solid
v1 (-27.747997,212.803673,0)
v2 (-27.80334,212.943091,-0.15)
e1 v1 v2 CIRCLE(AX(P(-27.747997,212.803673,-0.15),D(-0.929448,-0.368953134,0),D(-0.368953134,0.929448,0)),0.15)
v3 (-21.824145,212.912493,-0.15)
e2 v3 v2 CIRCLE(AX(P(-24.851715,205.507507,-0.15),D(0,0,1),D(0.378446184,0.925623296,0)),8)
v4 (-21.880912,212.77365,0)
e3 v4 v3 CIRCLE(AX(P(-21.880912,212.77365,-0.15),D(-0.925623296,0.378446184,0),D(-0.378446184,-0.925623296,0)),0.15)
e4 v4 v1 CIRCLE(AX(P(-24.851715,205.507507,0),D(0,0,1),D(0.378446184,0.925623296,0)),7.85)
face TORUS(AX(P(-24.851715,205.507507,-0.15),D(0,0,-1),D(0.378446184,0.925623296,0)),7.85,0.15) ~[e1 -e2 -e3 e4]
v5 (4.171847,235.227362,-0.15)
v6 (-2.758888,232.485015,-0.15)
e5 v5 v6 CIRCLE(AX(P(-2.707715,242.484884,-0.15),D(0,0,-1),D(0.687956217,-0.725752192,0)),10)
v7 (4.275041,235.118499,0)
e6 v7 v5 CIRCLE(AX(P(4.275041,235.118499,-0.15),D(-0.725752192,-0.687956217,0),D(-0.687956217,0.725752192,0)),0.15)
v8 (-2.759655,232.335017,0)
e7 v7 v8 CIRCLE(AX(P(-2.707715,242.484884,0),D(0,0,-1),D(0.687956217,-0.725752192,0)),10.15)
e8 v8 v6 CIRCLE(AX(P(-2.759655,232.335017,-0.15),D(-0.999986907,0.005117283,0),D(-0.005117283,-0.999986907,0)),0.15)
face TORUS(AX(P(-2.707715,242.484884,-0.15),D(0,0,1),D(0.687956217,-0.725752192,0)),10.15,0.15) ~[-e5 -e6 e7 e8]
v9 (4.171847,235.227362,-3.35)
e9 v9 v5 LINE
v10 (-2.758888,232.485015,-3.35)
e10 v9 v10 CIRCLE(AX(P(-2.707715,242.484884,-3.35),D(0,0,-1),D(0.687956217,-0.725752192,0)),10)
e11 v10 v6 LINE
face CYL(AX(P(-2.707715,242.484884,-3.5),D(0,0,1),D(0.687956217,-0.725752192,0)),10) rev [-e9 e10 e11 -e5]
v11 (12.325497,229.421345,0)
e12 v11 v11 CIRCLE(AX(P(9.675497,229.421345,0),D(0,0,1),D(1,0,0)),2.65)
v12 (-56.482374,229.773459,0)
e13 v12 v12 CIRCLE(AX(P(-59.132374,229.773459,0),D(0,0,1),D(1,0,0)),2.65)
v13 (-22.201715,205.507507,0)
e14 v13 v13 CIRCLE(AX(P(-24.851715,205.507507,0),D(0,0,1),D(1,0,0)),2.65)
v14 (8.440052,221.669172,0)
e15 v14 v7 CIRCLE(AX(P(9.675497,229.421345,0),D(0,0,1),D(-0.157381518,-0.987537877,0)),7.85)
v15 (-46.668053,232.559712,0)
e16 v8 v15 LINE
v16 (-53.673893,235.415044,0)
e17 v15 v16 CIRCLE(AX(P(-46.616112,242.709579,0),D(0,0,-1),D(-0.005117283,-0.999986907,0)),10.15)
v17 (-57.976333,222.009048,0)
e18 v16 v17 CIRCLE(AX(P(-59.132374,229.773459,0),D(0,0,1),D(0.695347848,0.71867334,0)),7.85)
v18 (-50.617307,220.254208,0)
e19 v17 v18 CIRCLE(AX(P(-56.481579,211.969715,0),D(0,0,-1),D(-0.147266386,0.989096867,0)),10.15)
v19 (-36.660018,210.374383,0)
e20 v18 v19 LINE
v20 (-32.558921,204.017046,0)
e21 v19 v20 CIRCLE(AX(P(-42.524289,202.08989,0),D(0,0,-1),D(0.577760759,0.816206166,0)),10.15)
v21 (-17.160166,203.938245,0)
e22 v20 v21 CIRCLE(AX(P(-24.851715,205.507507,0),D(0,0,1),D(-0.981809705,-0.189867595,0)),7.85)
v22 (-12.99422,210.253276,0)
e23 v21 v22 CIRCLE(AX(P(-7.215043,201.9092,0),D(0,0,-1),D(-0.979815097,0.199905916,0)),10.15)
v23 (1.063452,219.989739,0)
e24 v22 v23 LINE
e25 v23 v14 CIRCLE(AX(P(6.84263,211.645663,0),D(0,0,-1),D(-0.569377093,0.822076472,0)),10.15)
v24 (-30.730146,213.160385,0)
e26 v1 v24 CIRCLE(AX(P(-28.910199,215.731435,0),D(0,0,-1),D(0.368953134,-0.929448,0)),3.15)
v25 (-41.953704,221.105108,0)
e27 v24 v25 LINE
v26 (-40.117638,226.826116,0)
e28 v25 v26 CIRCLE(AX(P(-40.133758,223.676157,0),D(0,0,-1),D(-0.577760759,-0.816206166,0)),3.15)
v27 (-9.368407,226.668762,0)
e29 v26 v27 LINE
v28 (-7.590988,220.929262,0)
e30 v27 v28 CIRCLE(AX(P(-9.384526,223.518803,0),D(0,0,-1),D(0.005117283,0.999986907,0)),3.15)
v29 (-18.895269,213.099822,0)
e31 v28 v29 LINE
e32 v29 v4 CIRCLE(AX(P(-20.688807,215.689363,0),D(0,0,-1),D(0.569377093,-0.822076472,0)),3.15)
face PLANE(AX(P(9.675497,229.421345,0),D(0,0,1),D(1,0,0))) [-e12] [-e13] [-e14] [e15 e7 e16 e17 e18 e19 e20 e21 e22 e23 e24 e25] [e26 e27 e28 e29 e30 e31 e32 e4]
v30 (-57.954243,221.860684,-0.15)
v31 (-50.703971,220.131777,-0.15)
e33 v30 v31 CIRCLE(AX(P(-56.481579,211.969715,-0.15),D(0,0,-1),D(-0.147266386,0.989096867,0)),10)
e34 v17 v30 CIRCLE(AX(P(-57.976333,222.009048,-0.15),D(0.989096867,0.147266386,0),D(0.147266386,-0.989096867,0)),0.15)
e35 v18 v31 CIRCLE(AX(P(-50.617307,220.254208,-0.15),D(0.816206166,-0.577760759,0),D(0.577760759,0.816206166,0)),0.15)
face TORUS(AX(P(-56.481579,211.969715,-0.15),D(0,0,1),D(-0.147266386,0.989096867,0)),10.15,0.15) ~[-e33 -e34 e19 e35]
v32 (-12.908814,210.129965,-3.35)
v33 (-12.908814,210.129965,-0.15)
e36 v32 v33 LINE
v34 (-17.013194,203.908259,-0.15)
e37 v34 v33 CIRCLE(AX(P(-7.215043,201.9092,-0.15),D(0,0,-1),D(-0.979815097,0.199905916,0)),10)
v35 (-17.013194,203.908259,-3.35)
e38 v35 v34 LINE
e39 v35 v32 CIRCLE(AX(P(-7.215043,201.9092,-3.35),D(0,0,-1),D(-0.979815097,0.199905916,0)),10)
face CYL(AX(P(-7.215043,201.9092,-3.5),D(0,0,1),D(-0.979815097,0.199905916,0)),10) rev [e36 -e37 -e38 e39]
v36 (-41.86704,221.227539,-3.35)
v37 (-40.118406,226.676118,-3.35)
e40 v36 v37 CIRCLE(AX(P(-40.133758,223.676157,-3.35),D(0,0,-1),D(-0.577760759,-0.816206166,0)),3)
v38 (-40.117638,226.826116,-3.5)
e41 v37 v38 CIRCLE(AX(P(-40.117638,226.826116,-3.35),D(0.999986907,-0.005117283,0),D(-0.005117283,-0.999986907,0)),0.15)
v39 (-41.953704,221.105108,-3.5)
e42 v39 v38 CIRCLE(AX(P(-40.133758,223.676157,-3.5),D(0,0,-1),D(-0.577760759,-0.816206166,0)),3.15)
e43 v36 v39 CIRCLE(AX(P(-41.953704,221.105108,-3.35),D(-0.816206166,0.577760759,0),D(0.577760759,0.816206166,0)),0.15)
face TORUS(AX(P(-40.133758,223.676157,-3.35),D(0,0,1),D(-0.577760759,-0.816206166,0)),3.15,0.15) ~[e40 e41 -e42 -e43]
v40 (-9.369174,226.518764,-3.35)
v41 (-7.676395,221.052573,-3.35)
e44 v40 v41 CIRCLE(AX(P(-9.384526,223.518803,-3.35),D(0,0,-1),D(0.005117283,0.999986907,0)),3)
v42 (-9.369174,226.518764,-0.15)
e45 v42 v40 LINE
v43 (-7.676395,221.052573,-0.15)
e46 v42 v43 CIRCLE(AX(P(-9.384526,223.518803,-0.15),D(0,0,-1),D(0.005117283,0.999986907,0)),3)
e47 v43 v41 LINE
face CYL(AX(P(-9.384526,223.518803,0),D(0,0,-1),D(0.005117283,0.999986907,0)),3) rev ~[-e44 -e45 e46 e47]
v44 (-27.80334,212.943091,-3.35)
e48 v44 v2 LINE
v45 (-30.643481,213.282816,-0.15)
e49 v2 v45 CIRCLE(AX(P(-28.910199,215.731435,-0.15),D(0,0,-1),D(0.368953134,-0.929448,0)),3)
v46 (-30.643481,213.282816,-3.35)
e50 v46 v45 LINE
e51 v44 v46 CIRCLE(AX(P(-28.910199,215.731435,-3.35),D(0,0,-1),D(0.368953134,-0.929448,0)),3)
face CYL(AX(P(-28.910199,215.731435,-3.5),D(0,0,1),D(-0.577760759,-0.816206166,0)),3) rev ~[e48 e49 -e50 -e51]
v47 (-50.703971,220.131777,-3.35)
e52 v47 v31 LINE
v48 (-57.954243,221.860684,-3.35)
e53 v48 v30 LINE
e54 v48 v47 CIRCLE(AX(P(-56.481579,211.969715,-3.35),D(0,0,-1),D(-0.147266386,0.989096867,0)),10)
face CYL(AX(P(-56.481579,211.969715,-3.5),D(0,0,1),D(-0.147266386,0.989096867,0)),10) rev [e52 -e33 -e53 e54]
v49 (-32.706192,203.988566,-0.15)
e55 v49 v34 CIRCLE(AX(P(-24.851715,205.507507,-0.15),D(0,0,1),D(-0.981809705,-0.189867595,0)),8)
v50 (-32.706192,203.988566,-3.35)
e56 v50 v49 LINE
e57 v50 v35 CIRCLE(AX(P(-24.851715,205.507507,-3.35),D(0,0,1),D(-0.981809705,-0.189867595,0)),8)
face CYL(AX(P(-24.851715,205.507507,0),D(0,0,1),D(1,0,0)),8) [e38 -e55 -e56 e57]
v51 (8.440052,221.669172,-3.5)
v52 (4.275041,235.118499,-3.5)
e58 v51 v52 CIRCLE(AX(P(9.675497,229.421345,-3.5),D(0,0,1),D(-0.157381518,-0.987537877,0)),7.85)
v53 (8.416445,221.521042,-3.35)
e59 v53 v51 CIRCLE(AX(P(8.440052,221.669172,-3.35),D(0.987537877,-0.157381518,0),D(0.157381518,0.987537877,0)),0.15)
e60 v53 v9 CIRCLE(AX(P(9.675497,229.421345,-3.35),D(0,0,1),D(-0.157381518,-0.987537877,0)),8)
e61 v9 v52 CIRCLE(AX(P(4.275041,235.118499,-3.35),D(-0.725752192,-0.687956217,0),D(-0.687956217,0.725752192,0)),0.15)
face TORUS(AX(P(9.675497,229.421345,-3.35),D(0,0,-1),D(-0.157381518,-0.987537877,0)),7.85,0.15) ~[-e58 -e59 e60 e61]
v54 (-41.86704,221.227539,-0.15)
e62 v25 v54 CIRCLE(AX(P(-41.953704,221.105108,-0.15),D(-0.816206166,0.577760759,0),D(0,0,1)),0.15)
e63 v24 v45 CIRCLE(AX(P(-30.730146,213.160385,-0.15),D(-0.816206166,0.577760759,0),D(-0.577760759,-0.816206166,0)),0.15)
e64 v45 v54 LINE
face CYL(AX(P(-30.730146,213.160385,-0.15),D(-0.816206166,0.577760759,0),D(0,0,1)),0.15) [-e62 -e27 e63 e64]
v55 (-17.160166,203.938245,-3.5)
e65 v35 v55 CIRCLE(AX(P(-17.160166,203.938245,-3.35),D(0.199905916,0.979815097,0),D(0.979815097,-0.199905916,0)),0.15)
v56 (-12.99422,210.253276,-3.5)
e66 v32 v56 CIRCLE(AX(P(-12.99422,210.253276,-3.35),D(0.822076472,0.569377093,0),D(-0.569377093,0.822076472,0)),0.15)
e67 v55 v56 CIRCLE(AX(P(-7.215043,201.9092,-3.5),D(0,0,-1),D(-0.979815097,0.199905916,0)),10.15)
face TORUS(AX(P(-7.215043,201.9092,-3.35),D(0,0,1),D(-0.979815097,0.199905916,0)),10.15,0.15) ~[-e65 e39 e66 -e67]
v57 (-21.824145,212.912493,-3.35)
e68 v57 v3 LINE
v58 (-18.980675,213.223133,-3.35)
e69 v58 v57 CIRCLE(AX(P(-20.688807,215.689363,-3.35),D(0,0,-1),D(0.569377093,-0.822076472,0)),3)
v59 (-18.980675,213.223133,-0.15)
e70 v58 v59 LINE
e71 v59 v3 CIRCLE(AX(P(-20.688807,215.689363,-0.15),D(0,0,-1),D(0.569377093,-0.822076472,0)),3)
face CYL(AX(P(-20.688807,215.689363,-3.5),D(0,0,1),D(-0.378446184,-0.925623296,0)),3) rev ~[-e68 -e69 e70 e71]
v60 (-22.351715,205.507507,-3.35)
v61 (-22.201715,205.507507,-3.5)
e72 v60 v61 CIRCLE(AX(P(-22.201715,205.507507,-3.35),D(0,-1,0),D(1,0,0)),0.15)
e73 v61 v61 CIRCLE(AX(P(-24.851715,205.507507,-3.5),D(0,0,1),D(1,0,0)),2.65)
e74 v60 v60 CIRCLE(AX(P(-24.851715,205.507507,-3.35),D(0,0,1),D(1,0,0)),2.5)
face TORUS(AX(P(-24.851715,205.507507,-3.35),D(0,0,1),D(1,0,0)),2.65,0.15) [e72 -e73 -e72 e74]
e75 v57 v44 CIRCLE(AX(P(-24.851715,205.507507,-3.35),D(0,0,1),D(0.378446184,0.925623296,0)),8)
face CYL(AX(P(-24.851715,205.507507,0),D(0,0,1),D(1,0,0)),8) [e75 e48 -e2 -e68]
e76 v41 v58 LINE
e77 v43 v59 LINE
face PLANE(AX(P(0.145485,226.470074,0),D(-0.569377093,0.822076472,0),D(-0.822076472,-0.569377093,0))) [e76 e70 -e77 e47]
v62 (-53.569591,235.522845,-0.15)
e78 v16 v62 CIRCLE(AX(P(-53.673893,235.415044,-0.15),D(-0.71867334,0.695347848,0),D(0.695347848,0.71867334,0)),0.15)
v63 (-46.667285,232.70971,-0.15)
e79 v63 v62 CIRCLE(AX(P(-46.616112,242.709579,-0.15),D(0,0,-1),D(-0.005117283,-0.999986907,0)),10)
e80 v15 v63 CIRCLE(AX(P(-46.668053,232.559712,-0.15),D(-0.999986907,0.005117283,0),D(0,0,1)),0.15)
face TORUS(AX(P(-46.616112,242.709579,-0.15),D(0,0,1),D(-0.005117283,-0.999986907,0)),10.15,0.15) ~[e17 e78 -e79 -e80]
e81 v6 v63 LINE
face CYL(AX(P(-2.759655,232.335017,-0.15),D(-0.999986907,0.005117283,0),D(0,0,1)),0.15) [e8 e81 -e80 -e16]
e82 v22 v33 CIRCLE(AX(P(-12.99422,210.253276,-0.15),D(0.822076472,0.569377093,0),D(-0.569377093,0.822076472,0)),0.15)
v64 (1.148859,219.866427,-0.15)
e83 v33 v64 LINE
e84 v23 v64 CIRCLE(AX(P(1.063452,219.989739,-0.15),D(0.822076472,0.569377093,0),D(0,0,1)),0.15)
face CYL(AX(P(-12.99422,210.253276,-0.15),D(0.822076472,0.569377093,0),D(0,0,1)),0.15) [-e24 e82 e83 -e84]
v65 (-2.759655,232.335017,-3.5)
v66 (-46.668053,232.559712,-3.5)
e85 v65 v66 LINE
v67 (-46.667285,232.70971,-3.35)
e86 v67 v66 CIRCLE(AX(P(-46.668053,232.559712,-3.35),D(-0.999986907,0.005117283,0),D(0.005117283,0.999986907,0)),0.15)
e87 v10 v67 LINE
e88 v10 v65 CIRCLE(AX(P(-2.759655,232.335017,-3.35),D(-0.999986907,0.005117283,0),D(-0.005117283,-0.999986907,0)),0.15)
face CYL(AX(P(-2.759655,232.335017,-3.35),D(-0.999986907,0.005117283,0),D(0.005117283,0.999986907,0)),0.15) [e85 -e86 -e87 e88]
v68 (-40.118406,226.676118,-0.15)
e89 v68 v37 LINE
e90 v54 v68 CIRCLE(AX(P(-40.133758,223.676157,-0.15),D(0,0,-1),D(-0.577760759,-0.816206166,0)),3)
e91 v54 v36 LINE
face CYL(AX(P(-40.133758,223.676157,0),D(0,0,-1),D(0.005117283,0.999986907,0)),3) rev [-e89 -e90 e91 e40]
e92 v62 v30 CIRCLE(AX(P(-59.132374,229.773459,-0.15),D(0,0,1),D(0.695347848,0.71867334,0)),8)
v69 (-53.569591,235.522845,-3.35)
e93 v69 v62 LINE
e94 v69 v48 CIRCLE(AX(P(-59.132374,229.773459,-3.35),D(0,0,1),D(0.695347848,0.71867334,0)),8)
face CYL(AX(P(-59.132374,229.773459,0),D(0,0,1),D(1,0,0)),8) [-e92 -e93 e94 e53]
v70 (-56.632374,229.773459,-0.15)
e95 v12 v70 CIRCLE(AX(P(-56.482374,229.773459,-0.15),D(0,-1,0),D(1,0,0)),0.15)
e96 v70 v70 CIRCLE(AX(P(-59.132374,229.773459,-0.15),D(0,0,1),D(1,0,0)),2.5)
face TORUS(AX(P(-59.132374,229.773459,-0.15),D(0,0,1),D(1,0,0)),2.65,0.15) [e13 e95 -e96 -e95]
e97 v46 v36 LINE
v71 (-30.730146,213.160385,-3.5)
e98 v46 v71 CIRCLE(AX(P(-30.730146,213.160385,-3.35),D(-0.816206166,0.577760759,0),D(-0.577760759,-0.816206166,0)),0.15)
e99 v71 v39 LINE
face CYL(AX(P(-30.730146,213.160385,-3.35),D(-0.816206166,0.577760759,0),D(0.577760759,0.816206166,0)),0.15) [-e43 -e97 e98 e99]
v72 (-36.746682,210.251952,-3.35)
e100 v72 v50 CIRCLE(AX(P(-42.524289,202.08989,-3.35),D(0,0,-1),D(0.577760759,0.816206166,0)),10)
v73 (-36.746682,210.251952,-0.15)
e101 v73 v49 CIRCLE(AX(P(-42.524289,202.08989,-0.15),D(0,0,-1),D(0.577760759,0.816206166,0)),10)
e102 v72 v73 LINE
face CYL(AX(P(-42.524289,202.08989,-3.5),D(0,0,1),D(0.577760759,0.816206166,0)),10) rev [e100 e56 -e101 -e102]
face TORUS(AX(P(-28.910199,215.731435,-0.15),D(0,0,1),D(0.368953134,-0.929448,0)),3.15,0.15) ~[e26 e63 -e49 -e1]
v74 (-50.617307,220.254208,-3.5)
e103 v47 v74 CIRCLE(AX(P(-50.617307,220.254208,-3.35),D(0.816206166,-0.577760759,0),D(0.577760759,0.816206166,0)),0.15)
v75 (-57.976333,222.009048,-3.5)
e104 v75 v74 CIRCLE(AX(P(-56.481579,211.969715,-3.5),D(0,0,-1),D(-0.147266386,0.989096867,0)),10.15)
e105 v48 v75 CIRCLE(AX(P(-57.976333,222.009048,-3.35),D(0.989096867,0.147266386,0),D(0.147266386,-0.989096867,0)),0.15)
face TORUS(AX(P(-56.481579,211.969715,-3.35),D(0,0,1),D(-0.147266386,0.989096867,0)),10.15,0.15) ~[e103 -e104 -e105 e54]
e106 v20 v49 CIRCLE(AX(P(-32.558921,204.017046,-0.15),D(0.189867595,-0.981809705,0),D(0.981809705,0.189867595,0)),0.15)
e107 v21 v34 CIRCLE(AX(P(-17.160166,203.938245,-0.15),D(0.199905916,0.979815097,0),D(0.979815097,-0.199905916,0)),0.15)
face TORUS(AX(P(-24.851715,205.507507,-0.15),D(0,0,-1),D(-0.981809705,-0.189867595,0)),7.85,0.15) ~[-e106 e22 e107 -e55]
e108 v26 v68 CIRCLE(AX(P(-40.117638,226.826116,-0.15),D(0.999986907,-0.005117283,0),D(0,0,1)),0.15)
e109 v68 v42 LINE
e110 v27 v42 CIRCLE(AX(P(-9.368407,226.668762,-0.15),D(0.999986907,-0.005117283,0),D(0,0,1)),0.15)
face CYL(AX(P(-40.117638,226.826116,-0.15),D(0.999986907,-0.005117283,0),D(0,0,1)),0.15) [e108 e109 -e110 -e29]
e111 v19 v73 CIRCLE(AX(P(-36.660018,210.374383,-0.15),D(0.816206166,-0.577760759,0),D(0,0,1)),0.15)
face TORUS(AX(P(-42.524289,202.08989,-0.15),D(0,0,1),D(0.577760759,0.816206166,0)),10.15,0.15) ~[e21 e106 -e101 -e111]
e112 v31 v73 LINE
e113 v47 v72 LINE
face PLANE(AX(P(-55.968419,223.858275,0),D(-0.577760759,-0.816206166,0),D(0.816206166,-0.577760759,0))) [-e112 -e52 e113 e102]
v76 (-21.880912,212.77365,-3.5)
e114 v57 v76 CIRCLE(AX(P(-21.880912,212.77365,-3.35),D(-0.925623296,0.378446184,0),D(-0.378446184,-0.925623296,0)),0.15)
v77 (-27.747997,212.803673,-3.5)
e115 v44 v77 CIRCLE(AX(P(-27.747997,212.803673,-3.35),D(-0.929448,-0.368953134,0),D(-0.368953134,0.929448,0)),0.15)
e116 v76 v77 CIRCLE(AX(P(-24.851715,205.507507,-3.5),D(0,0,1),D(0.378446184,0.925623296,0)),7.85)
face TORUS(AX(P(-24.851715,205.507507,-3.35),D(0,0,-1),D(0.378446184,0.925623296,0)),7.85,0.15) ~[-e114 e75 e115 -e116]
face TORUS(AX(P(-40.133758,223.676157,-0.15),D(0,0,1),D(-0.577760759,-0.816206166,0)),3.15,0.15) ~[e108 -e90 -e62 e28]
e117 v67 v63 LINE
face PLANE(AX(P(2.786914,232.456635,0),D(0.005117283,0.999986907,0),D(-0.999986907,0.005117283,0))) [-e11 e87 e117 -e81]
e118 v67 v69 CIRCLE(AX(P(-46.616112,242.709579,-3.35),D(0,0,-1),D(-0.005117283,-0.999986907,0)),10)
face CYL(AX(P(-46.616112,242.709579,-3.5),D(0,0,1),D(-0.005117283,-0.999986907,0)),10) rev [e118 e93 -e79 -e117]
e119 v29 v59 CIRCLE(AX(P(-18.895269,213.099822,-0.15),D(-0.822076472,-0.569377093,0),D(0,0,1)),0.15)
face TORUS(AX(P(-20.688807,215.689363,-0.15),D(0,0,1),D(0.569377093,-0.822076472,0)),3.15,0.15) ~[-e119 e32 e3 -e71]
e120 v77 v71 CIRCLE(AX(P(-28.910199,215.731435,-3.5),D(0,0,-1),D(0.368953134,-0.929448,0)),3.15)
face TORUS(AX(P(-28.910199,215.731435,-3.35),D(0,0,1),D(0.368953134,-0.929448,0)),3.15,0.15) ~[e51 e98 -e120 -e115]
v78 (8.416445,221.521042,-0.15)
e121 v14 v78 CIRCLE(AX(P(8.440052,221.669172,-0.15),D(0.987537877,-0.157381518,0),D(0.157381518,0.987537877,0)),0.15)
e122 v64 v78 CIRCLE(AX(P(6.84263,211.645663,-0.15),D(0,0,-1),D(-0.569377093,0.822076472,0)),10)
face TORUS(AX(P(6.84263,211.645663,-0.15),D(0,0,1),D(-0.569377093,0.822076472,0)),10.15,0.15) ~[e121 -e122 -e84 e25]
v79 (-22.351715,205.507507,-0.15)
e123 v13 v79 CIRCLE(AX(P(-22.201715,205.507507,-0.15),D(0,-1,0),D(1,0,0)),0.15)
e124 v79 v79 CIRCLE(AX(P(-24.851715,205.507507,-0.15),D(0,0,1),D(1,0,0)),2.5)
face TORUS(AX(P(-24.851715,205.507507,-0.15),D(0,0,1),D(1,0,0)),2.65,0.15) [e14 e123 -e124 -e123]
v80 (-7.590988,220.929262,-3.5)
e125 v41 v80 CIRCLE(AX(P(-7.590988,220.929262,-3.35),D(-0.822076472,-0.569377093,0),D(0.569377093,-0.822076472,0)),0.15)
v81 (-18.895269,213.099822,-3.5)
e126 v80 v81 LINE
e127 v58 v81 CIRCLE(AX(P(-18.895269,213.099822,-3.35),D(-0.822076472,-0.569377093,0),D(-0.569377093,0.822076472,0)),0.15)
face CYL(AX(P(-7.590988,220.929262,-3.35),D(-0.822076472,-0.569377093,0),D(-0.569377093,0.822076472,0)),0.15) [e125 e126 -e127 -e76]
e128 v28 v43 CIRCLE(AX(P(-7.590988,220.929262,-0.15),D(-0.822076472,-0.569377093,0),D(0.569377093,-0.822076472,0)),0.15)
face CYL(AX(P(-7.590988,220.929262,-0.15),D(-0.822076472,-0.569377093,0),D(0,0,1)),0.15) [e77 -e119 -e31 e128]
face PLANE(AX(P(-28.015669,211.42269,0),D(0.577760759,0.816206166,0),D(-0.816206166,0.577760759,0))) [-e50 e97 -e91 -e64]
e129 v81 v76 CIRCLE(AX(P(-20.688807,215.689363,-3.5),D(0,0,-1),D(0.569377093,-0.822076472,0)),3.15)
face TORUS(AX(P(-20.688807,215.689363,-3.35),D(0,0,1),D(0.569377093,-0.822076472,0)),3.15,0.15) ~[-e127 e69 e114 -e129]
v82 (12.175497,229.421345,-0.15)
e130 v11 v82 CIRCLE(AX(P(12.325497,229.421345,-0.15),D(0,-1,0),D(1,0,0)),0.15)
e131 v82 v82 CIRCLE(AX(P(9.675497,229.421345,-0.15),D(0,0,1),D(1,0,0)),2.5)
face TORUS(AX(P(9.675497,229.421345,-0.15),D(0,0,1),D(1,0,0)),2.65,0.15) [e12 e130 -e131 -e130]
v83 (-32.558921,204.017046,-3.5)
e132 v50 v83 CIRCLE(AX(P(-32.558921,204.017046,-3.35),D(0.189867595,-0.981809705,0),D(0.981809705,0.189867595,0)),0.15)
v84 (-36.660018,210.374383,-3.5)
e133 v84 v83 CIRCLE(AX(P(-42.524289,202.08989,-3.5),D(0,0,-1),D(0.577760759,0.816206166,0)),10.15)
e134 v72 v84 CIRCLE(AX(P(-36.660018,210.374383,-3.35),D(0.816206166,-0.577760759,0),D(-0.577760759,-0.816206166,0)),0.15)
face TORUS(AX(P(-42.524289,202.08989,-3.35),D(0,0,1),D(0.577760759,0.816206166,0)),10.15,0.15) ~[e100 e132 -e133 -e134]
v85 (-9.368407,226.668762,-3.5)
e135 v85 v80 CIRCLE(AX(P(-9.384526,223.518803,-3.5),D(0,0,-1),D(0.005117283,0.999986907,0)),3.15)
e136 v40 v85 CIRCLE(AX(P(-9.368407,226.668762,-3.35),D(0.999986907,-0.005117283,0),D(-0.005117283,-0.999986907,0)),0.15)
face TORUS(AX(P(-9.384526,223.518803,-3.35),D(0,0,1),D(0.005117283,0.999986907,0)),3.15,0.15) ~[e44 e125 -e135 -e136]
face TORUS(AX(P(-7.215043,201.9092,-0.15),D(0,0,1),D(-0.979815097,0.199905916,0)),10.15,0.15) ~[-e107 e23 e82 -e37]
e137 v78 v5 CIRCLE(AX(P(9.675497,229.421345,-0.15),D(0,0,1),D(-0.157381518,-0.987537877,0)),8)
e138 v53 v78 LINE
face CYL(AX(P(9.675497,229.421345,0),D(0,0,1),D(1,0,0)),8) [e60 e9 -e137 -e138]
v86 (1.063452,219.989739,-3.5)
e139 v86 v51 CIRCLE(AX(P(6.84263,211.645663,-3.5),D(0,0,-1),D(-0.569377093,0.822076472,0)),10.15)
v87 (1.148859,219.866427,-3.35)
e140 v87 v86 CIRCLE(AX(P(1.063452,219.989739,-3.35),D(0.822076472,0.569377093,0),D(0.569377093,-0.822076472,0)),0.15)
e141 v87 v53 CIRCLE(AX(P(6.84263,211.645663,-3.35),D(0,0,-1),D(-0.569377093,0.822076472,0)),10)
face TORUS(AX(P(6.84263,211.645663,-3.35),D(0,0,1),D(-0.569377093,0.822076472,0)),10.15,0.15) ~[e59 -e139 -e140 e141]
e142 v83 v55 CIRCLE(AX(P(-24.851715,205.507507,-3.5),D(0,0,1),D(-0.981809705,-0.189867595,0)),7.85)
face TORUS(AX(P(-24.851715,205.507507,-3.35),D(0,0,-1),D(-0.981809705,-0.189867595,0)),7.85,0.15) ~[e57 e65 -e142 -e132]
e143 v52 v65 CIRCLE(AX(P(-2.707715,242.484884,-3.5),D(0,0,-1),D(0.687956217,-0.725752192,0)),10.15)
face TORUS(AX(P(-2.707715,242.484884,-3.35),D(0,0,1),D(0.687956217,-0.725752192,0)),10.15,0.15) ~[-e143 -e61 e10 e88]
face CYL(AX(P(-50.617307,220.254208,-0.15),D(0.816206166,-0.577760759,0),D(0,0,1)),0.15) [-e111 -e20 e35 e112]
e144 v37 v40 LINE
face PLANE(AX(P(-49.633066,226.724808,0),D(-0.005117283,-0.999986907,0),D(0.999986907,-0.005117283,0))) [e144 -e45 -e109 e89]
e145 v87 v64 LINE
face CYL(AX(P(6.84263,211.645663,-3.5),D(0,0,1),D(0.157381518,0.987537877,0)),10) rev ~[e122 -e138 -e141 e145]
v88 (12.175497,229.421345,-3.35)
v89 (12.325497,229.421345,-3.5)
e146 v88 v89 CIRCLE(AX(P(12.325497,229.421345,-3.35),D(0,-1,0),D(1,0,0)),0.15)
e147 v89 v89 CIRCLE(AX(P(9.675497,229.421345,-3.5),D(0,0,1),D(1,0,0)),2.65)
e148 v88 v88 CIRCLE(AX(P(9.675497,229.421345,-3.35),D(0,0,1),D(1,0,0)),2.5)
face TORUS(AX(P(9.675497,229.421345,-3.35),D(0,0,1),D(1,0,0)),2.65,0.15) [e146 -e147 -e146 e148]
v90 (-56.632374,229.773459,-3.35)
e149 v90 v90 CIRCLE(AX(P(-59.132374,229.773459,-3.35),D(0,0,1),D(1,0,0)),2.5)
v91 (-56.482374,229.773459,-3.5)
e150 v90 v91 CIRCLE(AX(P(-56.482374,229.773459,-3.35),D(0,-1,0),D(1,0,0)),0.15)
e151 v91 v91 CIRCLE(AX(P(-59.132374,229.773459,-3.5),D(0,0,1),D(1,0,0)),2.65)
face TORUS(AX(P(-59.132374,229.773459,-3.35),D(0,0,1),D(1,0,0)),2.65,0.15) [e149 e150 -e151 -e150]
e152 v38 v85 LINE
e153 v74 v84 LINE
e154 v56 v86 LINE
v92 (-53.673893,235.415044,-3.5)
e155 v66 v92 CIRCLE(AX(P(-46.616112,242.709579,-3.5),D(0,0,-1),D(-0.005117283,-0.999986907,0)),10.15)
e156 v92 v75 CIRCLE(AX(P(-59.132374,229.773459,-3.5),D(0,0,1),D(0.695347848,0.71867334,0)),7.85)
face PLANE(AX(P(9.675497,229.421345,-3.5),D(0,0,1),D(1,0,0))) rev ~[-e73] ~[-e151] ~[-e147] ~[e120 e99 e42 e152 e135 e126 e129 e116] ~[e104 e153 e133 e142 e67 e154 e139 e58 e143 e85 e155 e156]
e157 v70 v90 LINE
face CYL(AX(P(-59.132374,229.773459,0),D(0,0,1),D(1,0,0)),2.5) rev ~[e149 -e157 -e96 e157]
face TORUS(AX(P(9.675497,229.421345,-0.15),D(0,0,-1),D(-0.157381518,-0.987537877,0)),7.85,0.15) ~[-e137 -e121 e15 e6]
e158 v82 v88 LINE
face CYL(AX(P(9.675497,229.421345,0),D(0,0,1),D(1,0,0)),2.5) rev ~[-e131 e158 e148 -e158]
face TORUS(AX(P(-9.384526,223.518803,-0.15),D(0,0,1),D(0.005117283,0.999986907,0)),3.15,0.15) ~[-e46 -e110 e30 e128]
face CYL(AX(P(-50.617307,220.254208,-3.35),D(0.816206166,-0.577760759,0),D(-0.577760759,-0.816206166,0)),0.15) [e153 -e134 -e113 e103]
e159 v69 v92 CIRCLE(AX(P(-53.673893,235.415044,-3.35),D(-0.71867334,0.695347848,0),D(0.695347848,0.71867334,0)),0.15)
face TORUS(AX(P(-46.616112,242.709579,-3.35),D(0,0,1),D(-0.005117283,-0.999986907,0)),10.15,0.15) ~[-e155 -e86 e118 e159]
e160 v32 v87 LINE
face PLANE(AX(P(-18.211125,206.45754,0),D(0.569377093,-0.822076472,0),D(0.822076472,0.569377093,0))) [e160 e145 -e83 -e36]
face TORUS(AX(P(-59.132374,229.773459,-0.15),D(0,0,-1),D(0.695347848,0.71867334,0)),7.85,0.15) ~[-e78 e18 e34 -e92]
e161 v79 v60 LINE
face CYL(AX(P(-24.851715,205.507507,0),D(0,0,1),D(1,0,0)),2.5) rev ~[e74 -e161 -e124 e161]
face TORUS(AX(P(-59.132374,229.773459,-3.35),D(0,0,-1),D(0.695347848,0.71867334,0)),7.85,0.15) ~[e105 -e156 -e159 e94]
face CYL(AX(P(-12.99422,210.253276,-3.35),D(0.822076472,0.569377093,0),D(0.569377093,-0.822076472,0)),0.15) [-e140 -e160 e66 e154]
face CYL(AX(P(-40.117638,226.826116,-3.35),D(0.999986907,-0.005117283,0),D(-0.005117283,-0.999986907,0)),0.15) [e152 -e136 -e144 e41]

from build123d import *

# Parameters (mm, degrees)
SKETCH2_R             = 8
SKETCH2_R_2           = 2.5
BOSS_EXTRUDE1_DEPTH   = 3.5
BOSS_EXTRUDE1_2_DEPTH = 3.5
BOSS_EXTRUDE1_3_DEPTH = 3.5
EXTRUDE_THIN1_DEPTH   = 3.5
FILLET1_R             = 3
FILLET2_R             = 10
FILLET3_R             = 0.15


with BuildPart() as part:
    # Sketch2 → Boss-Extrude1 (new body)
    with BuildSketch(Plane.XY):
        with Locations((-59.132373656, 229.773458532)):
            Circle(SKETCH2_R)
        with Locations((-59.132373656, 229.773458532)):
            Circle(SKETCH2_R_2, mode=Mode.SUBTRACT)
    extrude(amount=-BOSS_EXTRUDE1_DEPTH)



with BuildPart() as body_2:
    # Sketch2 → Boss-Extrude1 2 (new body)
    with BuildSketch(Plane.XY):
        with Locations((-24.851714699, 205.507506634)):
            Circle(SKETCH2_R)
        with Locations((-24.851714699, 205.507506634)):
            Circle(SKETCH2_R_2, mode=Mode.SUBTRACT)
    extrude(amount=-BOSS_EXTRUDE1_2_DEPTH)


with BuildPart() as body_3:
    # Sketch2 → Boss-Extrude1 3 (new body)
    with BuildSketch(Plane.XY):
        with Locations((9.675497125, 229.421344545)):
            Circle(SKETCH2_R)
        with Locations((9.675497125, 229.421344545)):
            Circle(SKETCH2_R_2, mode=Mode.SUBTRACT)
    extrude(amount=-BOSS_EXTRUDE1_3_DEPTH)


with BuildPart() as part_1:
    add(part.part)

    add(body_2.part)  # Extrude-Thin1 merges body 2

    add(body_3.part)  # Extrude-Thin1 merges body 3
    # Sketch4 → Extrude-Thin1 (add)
    with BuildSketch(Plane.XY):
        Polygon((-52.243790116, 226.738167955), (2.756209884, 226.456713682), (2.786913585, 232.456635122), (-52.213086415, 232.738089395), align=None)
        Polygon((3.034907014, 228.471311402), (-21.627387146, 211.389998609), (-18.211124588, 206.457539777), (6.451169572, 223.53885257), align=None)
        Polygon((-55.96841894, 223.858275478), (-31.482233971, 206.525452694), (-28.015669415, 211.422689688), (-52.501854383, 228.755512472), align=None)
    extrude(amount=-EXTRUDE_THIN1_DEPTH)

    # Fillet1
    fillet1_edges = [part_1.edges().sort_by_distance(p)[0] for p in [
        (0.145485449, 226.470073674, -1.75),
        (-20.463163691, 212.196349587, -1.75),
        (-29.171579351, 212.240913601, -1.75),
        (-49.63306568, 226.724807963, -1.75),
    ]]
    fillet(fillet1_edges, radius=FILLET1_R)

    # Fillet2
    fillet2_edges = [part_1.edges().sort_by_distance(p)[0] for p in [
        (-51.700920421, 232.735468462, -1.75),
        (2.274747591, 232.459256054, -1.75),
        (5.286946117, 222.732501592, -1.75),
        (-17.046901132, 207.263890755, -1.75),
        (-32.638143908, 207.343676607, -1.75),
        (-54.812509003, 223.040051565, -1.75),
    ]]
    fillet(fillet2_edges, radius=FILLET2_R)

    # Fillet3
    fillet3_edges = [part_1.edges().sort_by_distance(p)[0] for p in [
        (-24.743790116, 226.597440819, 0),
        (-24.743790116, 226.597440819, -3.5),
        (-36.255260716, 217.255177518, 0),
        (-36.255260716, 217.255177518, -3.5),
        (-13.328535173, 217.13785343, 0),
        (-13.328535173, 217.13785343, -3.5),
        (-24.810776432, 213.507401887, -3.5),
        (-24.810776432, 213.507401887, 0),
        (-42.990254703, 224.592904302, -3.5),
        (-42.990254703, 224.592904302, 0),
        (-6.518796448, 224.406267069, -3.5),
        (-6.518796448, 224.406267069, 0),
        (-20.363004202, 212.707106571, -3.5),
        (-20.363004202, 212.707106571, 0),
        (-29.266506287, 212.752668911, 0),
        (-29.266506287, 212.752668911, -3.5),
        (-66.749698988, 232.218116949, 0),
        (-66.749698988, 232.218116949, -3.5),
        (-24.713086415, 232.597362258, 0),
        (-24.713086415, 232.597362258, -3.5),
        (17.317443207, 231.787915923, 0),
        (17.317443207, 231.787915923, -3.5),
        (-5.879977508, 214.998196173, 0),
        (-5.879977508, 214.998196173, -3.5),
        (-24.892652967, 197.507611381, -3.5),
        (-24.892652967, 197.507611381, 0),
        (-43.725326456, 215.191864086, 0),
        (-43.725326456, 215.191864086, -3.5),
        (-50.390329931, 233.449163872, -3.5),
        (-50.390329931, 233.449163872, 0),
        (0.971530009, 233.186327237, -3.5),
        (0.971530009, 233.186327237, 0),
        (4.622732107, 221.396152715, -3.5),
        (4.622732107, 221.396152715, 0),
        (-15.562336887, 207.415803806, -3.5),
        (-15.562336887, 207.415803806, 0),
        (-34.121075658, 207.510775376, 0),
        (-34.121075658, 207.510775376, -3.5),
        (-54.162006554, 221.696974823, -3.5),
        (-54.162006554, 221.696974823, 0),
        (7.175497125, 229.421344545, -3.5),
        (7.175497125, 229.421344545, 0),
        (-61.632373656, 229.773458532, -3.5),
        (-61.632373656, 229.773458532, 0),
        (-27.351714699, 205.507506634, -3.5),
        (-27.351714699, 205.507506634, 0),
    ]]
    fillet(fillet3_edges, radius=FILLET3_R)


solid = part_1.part
